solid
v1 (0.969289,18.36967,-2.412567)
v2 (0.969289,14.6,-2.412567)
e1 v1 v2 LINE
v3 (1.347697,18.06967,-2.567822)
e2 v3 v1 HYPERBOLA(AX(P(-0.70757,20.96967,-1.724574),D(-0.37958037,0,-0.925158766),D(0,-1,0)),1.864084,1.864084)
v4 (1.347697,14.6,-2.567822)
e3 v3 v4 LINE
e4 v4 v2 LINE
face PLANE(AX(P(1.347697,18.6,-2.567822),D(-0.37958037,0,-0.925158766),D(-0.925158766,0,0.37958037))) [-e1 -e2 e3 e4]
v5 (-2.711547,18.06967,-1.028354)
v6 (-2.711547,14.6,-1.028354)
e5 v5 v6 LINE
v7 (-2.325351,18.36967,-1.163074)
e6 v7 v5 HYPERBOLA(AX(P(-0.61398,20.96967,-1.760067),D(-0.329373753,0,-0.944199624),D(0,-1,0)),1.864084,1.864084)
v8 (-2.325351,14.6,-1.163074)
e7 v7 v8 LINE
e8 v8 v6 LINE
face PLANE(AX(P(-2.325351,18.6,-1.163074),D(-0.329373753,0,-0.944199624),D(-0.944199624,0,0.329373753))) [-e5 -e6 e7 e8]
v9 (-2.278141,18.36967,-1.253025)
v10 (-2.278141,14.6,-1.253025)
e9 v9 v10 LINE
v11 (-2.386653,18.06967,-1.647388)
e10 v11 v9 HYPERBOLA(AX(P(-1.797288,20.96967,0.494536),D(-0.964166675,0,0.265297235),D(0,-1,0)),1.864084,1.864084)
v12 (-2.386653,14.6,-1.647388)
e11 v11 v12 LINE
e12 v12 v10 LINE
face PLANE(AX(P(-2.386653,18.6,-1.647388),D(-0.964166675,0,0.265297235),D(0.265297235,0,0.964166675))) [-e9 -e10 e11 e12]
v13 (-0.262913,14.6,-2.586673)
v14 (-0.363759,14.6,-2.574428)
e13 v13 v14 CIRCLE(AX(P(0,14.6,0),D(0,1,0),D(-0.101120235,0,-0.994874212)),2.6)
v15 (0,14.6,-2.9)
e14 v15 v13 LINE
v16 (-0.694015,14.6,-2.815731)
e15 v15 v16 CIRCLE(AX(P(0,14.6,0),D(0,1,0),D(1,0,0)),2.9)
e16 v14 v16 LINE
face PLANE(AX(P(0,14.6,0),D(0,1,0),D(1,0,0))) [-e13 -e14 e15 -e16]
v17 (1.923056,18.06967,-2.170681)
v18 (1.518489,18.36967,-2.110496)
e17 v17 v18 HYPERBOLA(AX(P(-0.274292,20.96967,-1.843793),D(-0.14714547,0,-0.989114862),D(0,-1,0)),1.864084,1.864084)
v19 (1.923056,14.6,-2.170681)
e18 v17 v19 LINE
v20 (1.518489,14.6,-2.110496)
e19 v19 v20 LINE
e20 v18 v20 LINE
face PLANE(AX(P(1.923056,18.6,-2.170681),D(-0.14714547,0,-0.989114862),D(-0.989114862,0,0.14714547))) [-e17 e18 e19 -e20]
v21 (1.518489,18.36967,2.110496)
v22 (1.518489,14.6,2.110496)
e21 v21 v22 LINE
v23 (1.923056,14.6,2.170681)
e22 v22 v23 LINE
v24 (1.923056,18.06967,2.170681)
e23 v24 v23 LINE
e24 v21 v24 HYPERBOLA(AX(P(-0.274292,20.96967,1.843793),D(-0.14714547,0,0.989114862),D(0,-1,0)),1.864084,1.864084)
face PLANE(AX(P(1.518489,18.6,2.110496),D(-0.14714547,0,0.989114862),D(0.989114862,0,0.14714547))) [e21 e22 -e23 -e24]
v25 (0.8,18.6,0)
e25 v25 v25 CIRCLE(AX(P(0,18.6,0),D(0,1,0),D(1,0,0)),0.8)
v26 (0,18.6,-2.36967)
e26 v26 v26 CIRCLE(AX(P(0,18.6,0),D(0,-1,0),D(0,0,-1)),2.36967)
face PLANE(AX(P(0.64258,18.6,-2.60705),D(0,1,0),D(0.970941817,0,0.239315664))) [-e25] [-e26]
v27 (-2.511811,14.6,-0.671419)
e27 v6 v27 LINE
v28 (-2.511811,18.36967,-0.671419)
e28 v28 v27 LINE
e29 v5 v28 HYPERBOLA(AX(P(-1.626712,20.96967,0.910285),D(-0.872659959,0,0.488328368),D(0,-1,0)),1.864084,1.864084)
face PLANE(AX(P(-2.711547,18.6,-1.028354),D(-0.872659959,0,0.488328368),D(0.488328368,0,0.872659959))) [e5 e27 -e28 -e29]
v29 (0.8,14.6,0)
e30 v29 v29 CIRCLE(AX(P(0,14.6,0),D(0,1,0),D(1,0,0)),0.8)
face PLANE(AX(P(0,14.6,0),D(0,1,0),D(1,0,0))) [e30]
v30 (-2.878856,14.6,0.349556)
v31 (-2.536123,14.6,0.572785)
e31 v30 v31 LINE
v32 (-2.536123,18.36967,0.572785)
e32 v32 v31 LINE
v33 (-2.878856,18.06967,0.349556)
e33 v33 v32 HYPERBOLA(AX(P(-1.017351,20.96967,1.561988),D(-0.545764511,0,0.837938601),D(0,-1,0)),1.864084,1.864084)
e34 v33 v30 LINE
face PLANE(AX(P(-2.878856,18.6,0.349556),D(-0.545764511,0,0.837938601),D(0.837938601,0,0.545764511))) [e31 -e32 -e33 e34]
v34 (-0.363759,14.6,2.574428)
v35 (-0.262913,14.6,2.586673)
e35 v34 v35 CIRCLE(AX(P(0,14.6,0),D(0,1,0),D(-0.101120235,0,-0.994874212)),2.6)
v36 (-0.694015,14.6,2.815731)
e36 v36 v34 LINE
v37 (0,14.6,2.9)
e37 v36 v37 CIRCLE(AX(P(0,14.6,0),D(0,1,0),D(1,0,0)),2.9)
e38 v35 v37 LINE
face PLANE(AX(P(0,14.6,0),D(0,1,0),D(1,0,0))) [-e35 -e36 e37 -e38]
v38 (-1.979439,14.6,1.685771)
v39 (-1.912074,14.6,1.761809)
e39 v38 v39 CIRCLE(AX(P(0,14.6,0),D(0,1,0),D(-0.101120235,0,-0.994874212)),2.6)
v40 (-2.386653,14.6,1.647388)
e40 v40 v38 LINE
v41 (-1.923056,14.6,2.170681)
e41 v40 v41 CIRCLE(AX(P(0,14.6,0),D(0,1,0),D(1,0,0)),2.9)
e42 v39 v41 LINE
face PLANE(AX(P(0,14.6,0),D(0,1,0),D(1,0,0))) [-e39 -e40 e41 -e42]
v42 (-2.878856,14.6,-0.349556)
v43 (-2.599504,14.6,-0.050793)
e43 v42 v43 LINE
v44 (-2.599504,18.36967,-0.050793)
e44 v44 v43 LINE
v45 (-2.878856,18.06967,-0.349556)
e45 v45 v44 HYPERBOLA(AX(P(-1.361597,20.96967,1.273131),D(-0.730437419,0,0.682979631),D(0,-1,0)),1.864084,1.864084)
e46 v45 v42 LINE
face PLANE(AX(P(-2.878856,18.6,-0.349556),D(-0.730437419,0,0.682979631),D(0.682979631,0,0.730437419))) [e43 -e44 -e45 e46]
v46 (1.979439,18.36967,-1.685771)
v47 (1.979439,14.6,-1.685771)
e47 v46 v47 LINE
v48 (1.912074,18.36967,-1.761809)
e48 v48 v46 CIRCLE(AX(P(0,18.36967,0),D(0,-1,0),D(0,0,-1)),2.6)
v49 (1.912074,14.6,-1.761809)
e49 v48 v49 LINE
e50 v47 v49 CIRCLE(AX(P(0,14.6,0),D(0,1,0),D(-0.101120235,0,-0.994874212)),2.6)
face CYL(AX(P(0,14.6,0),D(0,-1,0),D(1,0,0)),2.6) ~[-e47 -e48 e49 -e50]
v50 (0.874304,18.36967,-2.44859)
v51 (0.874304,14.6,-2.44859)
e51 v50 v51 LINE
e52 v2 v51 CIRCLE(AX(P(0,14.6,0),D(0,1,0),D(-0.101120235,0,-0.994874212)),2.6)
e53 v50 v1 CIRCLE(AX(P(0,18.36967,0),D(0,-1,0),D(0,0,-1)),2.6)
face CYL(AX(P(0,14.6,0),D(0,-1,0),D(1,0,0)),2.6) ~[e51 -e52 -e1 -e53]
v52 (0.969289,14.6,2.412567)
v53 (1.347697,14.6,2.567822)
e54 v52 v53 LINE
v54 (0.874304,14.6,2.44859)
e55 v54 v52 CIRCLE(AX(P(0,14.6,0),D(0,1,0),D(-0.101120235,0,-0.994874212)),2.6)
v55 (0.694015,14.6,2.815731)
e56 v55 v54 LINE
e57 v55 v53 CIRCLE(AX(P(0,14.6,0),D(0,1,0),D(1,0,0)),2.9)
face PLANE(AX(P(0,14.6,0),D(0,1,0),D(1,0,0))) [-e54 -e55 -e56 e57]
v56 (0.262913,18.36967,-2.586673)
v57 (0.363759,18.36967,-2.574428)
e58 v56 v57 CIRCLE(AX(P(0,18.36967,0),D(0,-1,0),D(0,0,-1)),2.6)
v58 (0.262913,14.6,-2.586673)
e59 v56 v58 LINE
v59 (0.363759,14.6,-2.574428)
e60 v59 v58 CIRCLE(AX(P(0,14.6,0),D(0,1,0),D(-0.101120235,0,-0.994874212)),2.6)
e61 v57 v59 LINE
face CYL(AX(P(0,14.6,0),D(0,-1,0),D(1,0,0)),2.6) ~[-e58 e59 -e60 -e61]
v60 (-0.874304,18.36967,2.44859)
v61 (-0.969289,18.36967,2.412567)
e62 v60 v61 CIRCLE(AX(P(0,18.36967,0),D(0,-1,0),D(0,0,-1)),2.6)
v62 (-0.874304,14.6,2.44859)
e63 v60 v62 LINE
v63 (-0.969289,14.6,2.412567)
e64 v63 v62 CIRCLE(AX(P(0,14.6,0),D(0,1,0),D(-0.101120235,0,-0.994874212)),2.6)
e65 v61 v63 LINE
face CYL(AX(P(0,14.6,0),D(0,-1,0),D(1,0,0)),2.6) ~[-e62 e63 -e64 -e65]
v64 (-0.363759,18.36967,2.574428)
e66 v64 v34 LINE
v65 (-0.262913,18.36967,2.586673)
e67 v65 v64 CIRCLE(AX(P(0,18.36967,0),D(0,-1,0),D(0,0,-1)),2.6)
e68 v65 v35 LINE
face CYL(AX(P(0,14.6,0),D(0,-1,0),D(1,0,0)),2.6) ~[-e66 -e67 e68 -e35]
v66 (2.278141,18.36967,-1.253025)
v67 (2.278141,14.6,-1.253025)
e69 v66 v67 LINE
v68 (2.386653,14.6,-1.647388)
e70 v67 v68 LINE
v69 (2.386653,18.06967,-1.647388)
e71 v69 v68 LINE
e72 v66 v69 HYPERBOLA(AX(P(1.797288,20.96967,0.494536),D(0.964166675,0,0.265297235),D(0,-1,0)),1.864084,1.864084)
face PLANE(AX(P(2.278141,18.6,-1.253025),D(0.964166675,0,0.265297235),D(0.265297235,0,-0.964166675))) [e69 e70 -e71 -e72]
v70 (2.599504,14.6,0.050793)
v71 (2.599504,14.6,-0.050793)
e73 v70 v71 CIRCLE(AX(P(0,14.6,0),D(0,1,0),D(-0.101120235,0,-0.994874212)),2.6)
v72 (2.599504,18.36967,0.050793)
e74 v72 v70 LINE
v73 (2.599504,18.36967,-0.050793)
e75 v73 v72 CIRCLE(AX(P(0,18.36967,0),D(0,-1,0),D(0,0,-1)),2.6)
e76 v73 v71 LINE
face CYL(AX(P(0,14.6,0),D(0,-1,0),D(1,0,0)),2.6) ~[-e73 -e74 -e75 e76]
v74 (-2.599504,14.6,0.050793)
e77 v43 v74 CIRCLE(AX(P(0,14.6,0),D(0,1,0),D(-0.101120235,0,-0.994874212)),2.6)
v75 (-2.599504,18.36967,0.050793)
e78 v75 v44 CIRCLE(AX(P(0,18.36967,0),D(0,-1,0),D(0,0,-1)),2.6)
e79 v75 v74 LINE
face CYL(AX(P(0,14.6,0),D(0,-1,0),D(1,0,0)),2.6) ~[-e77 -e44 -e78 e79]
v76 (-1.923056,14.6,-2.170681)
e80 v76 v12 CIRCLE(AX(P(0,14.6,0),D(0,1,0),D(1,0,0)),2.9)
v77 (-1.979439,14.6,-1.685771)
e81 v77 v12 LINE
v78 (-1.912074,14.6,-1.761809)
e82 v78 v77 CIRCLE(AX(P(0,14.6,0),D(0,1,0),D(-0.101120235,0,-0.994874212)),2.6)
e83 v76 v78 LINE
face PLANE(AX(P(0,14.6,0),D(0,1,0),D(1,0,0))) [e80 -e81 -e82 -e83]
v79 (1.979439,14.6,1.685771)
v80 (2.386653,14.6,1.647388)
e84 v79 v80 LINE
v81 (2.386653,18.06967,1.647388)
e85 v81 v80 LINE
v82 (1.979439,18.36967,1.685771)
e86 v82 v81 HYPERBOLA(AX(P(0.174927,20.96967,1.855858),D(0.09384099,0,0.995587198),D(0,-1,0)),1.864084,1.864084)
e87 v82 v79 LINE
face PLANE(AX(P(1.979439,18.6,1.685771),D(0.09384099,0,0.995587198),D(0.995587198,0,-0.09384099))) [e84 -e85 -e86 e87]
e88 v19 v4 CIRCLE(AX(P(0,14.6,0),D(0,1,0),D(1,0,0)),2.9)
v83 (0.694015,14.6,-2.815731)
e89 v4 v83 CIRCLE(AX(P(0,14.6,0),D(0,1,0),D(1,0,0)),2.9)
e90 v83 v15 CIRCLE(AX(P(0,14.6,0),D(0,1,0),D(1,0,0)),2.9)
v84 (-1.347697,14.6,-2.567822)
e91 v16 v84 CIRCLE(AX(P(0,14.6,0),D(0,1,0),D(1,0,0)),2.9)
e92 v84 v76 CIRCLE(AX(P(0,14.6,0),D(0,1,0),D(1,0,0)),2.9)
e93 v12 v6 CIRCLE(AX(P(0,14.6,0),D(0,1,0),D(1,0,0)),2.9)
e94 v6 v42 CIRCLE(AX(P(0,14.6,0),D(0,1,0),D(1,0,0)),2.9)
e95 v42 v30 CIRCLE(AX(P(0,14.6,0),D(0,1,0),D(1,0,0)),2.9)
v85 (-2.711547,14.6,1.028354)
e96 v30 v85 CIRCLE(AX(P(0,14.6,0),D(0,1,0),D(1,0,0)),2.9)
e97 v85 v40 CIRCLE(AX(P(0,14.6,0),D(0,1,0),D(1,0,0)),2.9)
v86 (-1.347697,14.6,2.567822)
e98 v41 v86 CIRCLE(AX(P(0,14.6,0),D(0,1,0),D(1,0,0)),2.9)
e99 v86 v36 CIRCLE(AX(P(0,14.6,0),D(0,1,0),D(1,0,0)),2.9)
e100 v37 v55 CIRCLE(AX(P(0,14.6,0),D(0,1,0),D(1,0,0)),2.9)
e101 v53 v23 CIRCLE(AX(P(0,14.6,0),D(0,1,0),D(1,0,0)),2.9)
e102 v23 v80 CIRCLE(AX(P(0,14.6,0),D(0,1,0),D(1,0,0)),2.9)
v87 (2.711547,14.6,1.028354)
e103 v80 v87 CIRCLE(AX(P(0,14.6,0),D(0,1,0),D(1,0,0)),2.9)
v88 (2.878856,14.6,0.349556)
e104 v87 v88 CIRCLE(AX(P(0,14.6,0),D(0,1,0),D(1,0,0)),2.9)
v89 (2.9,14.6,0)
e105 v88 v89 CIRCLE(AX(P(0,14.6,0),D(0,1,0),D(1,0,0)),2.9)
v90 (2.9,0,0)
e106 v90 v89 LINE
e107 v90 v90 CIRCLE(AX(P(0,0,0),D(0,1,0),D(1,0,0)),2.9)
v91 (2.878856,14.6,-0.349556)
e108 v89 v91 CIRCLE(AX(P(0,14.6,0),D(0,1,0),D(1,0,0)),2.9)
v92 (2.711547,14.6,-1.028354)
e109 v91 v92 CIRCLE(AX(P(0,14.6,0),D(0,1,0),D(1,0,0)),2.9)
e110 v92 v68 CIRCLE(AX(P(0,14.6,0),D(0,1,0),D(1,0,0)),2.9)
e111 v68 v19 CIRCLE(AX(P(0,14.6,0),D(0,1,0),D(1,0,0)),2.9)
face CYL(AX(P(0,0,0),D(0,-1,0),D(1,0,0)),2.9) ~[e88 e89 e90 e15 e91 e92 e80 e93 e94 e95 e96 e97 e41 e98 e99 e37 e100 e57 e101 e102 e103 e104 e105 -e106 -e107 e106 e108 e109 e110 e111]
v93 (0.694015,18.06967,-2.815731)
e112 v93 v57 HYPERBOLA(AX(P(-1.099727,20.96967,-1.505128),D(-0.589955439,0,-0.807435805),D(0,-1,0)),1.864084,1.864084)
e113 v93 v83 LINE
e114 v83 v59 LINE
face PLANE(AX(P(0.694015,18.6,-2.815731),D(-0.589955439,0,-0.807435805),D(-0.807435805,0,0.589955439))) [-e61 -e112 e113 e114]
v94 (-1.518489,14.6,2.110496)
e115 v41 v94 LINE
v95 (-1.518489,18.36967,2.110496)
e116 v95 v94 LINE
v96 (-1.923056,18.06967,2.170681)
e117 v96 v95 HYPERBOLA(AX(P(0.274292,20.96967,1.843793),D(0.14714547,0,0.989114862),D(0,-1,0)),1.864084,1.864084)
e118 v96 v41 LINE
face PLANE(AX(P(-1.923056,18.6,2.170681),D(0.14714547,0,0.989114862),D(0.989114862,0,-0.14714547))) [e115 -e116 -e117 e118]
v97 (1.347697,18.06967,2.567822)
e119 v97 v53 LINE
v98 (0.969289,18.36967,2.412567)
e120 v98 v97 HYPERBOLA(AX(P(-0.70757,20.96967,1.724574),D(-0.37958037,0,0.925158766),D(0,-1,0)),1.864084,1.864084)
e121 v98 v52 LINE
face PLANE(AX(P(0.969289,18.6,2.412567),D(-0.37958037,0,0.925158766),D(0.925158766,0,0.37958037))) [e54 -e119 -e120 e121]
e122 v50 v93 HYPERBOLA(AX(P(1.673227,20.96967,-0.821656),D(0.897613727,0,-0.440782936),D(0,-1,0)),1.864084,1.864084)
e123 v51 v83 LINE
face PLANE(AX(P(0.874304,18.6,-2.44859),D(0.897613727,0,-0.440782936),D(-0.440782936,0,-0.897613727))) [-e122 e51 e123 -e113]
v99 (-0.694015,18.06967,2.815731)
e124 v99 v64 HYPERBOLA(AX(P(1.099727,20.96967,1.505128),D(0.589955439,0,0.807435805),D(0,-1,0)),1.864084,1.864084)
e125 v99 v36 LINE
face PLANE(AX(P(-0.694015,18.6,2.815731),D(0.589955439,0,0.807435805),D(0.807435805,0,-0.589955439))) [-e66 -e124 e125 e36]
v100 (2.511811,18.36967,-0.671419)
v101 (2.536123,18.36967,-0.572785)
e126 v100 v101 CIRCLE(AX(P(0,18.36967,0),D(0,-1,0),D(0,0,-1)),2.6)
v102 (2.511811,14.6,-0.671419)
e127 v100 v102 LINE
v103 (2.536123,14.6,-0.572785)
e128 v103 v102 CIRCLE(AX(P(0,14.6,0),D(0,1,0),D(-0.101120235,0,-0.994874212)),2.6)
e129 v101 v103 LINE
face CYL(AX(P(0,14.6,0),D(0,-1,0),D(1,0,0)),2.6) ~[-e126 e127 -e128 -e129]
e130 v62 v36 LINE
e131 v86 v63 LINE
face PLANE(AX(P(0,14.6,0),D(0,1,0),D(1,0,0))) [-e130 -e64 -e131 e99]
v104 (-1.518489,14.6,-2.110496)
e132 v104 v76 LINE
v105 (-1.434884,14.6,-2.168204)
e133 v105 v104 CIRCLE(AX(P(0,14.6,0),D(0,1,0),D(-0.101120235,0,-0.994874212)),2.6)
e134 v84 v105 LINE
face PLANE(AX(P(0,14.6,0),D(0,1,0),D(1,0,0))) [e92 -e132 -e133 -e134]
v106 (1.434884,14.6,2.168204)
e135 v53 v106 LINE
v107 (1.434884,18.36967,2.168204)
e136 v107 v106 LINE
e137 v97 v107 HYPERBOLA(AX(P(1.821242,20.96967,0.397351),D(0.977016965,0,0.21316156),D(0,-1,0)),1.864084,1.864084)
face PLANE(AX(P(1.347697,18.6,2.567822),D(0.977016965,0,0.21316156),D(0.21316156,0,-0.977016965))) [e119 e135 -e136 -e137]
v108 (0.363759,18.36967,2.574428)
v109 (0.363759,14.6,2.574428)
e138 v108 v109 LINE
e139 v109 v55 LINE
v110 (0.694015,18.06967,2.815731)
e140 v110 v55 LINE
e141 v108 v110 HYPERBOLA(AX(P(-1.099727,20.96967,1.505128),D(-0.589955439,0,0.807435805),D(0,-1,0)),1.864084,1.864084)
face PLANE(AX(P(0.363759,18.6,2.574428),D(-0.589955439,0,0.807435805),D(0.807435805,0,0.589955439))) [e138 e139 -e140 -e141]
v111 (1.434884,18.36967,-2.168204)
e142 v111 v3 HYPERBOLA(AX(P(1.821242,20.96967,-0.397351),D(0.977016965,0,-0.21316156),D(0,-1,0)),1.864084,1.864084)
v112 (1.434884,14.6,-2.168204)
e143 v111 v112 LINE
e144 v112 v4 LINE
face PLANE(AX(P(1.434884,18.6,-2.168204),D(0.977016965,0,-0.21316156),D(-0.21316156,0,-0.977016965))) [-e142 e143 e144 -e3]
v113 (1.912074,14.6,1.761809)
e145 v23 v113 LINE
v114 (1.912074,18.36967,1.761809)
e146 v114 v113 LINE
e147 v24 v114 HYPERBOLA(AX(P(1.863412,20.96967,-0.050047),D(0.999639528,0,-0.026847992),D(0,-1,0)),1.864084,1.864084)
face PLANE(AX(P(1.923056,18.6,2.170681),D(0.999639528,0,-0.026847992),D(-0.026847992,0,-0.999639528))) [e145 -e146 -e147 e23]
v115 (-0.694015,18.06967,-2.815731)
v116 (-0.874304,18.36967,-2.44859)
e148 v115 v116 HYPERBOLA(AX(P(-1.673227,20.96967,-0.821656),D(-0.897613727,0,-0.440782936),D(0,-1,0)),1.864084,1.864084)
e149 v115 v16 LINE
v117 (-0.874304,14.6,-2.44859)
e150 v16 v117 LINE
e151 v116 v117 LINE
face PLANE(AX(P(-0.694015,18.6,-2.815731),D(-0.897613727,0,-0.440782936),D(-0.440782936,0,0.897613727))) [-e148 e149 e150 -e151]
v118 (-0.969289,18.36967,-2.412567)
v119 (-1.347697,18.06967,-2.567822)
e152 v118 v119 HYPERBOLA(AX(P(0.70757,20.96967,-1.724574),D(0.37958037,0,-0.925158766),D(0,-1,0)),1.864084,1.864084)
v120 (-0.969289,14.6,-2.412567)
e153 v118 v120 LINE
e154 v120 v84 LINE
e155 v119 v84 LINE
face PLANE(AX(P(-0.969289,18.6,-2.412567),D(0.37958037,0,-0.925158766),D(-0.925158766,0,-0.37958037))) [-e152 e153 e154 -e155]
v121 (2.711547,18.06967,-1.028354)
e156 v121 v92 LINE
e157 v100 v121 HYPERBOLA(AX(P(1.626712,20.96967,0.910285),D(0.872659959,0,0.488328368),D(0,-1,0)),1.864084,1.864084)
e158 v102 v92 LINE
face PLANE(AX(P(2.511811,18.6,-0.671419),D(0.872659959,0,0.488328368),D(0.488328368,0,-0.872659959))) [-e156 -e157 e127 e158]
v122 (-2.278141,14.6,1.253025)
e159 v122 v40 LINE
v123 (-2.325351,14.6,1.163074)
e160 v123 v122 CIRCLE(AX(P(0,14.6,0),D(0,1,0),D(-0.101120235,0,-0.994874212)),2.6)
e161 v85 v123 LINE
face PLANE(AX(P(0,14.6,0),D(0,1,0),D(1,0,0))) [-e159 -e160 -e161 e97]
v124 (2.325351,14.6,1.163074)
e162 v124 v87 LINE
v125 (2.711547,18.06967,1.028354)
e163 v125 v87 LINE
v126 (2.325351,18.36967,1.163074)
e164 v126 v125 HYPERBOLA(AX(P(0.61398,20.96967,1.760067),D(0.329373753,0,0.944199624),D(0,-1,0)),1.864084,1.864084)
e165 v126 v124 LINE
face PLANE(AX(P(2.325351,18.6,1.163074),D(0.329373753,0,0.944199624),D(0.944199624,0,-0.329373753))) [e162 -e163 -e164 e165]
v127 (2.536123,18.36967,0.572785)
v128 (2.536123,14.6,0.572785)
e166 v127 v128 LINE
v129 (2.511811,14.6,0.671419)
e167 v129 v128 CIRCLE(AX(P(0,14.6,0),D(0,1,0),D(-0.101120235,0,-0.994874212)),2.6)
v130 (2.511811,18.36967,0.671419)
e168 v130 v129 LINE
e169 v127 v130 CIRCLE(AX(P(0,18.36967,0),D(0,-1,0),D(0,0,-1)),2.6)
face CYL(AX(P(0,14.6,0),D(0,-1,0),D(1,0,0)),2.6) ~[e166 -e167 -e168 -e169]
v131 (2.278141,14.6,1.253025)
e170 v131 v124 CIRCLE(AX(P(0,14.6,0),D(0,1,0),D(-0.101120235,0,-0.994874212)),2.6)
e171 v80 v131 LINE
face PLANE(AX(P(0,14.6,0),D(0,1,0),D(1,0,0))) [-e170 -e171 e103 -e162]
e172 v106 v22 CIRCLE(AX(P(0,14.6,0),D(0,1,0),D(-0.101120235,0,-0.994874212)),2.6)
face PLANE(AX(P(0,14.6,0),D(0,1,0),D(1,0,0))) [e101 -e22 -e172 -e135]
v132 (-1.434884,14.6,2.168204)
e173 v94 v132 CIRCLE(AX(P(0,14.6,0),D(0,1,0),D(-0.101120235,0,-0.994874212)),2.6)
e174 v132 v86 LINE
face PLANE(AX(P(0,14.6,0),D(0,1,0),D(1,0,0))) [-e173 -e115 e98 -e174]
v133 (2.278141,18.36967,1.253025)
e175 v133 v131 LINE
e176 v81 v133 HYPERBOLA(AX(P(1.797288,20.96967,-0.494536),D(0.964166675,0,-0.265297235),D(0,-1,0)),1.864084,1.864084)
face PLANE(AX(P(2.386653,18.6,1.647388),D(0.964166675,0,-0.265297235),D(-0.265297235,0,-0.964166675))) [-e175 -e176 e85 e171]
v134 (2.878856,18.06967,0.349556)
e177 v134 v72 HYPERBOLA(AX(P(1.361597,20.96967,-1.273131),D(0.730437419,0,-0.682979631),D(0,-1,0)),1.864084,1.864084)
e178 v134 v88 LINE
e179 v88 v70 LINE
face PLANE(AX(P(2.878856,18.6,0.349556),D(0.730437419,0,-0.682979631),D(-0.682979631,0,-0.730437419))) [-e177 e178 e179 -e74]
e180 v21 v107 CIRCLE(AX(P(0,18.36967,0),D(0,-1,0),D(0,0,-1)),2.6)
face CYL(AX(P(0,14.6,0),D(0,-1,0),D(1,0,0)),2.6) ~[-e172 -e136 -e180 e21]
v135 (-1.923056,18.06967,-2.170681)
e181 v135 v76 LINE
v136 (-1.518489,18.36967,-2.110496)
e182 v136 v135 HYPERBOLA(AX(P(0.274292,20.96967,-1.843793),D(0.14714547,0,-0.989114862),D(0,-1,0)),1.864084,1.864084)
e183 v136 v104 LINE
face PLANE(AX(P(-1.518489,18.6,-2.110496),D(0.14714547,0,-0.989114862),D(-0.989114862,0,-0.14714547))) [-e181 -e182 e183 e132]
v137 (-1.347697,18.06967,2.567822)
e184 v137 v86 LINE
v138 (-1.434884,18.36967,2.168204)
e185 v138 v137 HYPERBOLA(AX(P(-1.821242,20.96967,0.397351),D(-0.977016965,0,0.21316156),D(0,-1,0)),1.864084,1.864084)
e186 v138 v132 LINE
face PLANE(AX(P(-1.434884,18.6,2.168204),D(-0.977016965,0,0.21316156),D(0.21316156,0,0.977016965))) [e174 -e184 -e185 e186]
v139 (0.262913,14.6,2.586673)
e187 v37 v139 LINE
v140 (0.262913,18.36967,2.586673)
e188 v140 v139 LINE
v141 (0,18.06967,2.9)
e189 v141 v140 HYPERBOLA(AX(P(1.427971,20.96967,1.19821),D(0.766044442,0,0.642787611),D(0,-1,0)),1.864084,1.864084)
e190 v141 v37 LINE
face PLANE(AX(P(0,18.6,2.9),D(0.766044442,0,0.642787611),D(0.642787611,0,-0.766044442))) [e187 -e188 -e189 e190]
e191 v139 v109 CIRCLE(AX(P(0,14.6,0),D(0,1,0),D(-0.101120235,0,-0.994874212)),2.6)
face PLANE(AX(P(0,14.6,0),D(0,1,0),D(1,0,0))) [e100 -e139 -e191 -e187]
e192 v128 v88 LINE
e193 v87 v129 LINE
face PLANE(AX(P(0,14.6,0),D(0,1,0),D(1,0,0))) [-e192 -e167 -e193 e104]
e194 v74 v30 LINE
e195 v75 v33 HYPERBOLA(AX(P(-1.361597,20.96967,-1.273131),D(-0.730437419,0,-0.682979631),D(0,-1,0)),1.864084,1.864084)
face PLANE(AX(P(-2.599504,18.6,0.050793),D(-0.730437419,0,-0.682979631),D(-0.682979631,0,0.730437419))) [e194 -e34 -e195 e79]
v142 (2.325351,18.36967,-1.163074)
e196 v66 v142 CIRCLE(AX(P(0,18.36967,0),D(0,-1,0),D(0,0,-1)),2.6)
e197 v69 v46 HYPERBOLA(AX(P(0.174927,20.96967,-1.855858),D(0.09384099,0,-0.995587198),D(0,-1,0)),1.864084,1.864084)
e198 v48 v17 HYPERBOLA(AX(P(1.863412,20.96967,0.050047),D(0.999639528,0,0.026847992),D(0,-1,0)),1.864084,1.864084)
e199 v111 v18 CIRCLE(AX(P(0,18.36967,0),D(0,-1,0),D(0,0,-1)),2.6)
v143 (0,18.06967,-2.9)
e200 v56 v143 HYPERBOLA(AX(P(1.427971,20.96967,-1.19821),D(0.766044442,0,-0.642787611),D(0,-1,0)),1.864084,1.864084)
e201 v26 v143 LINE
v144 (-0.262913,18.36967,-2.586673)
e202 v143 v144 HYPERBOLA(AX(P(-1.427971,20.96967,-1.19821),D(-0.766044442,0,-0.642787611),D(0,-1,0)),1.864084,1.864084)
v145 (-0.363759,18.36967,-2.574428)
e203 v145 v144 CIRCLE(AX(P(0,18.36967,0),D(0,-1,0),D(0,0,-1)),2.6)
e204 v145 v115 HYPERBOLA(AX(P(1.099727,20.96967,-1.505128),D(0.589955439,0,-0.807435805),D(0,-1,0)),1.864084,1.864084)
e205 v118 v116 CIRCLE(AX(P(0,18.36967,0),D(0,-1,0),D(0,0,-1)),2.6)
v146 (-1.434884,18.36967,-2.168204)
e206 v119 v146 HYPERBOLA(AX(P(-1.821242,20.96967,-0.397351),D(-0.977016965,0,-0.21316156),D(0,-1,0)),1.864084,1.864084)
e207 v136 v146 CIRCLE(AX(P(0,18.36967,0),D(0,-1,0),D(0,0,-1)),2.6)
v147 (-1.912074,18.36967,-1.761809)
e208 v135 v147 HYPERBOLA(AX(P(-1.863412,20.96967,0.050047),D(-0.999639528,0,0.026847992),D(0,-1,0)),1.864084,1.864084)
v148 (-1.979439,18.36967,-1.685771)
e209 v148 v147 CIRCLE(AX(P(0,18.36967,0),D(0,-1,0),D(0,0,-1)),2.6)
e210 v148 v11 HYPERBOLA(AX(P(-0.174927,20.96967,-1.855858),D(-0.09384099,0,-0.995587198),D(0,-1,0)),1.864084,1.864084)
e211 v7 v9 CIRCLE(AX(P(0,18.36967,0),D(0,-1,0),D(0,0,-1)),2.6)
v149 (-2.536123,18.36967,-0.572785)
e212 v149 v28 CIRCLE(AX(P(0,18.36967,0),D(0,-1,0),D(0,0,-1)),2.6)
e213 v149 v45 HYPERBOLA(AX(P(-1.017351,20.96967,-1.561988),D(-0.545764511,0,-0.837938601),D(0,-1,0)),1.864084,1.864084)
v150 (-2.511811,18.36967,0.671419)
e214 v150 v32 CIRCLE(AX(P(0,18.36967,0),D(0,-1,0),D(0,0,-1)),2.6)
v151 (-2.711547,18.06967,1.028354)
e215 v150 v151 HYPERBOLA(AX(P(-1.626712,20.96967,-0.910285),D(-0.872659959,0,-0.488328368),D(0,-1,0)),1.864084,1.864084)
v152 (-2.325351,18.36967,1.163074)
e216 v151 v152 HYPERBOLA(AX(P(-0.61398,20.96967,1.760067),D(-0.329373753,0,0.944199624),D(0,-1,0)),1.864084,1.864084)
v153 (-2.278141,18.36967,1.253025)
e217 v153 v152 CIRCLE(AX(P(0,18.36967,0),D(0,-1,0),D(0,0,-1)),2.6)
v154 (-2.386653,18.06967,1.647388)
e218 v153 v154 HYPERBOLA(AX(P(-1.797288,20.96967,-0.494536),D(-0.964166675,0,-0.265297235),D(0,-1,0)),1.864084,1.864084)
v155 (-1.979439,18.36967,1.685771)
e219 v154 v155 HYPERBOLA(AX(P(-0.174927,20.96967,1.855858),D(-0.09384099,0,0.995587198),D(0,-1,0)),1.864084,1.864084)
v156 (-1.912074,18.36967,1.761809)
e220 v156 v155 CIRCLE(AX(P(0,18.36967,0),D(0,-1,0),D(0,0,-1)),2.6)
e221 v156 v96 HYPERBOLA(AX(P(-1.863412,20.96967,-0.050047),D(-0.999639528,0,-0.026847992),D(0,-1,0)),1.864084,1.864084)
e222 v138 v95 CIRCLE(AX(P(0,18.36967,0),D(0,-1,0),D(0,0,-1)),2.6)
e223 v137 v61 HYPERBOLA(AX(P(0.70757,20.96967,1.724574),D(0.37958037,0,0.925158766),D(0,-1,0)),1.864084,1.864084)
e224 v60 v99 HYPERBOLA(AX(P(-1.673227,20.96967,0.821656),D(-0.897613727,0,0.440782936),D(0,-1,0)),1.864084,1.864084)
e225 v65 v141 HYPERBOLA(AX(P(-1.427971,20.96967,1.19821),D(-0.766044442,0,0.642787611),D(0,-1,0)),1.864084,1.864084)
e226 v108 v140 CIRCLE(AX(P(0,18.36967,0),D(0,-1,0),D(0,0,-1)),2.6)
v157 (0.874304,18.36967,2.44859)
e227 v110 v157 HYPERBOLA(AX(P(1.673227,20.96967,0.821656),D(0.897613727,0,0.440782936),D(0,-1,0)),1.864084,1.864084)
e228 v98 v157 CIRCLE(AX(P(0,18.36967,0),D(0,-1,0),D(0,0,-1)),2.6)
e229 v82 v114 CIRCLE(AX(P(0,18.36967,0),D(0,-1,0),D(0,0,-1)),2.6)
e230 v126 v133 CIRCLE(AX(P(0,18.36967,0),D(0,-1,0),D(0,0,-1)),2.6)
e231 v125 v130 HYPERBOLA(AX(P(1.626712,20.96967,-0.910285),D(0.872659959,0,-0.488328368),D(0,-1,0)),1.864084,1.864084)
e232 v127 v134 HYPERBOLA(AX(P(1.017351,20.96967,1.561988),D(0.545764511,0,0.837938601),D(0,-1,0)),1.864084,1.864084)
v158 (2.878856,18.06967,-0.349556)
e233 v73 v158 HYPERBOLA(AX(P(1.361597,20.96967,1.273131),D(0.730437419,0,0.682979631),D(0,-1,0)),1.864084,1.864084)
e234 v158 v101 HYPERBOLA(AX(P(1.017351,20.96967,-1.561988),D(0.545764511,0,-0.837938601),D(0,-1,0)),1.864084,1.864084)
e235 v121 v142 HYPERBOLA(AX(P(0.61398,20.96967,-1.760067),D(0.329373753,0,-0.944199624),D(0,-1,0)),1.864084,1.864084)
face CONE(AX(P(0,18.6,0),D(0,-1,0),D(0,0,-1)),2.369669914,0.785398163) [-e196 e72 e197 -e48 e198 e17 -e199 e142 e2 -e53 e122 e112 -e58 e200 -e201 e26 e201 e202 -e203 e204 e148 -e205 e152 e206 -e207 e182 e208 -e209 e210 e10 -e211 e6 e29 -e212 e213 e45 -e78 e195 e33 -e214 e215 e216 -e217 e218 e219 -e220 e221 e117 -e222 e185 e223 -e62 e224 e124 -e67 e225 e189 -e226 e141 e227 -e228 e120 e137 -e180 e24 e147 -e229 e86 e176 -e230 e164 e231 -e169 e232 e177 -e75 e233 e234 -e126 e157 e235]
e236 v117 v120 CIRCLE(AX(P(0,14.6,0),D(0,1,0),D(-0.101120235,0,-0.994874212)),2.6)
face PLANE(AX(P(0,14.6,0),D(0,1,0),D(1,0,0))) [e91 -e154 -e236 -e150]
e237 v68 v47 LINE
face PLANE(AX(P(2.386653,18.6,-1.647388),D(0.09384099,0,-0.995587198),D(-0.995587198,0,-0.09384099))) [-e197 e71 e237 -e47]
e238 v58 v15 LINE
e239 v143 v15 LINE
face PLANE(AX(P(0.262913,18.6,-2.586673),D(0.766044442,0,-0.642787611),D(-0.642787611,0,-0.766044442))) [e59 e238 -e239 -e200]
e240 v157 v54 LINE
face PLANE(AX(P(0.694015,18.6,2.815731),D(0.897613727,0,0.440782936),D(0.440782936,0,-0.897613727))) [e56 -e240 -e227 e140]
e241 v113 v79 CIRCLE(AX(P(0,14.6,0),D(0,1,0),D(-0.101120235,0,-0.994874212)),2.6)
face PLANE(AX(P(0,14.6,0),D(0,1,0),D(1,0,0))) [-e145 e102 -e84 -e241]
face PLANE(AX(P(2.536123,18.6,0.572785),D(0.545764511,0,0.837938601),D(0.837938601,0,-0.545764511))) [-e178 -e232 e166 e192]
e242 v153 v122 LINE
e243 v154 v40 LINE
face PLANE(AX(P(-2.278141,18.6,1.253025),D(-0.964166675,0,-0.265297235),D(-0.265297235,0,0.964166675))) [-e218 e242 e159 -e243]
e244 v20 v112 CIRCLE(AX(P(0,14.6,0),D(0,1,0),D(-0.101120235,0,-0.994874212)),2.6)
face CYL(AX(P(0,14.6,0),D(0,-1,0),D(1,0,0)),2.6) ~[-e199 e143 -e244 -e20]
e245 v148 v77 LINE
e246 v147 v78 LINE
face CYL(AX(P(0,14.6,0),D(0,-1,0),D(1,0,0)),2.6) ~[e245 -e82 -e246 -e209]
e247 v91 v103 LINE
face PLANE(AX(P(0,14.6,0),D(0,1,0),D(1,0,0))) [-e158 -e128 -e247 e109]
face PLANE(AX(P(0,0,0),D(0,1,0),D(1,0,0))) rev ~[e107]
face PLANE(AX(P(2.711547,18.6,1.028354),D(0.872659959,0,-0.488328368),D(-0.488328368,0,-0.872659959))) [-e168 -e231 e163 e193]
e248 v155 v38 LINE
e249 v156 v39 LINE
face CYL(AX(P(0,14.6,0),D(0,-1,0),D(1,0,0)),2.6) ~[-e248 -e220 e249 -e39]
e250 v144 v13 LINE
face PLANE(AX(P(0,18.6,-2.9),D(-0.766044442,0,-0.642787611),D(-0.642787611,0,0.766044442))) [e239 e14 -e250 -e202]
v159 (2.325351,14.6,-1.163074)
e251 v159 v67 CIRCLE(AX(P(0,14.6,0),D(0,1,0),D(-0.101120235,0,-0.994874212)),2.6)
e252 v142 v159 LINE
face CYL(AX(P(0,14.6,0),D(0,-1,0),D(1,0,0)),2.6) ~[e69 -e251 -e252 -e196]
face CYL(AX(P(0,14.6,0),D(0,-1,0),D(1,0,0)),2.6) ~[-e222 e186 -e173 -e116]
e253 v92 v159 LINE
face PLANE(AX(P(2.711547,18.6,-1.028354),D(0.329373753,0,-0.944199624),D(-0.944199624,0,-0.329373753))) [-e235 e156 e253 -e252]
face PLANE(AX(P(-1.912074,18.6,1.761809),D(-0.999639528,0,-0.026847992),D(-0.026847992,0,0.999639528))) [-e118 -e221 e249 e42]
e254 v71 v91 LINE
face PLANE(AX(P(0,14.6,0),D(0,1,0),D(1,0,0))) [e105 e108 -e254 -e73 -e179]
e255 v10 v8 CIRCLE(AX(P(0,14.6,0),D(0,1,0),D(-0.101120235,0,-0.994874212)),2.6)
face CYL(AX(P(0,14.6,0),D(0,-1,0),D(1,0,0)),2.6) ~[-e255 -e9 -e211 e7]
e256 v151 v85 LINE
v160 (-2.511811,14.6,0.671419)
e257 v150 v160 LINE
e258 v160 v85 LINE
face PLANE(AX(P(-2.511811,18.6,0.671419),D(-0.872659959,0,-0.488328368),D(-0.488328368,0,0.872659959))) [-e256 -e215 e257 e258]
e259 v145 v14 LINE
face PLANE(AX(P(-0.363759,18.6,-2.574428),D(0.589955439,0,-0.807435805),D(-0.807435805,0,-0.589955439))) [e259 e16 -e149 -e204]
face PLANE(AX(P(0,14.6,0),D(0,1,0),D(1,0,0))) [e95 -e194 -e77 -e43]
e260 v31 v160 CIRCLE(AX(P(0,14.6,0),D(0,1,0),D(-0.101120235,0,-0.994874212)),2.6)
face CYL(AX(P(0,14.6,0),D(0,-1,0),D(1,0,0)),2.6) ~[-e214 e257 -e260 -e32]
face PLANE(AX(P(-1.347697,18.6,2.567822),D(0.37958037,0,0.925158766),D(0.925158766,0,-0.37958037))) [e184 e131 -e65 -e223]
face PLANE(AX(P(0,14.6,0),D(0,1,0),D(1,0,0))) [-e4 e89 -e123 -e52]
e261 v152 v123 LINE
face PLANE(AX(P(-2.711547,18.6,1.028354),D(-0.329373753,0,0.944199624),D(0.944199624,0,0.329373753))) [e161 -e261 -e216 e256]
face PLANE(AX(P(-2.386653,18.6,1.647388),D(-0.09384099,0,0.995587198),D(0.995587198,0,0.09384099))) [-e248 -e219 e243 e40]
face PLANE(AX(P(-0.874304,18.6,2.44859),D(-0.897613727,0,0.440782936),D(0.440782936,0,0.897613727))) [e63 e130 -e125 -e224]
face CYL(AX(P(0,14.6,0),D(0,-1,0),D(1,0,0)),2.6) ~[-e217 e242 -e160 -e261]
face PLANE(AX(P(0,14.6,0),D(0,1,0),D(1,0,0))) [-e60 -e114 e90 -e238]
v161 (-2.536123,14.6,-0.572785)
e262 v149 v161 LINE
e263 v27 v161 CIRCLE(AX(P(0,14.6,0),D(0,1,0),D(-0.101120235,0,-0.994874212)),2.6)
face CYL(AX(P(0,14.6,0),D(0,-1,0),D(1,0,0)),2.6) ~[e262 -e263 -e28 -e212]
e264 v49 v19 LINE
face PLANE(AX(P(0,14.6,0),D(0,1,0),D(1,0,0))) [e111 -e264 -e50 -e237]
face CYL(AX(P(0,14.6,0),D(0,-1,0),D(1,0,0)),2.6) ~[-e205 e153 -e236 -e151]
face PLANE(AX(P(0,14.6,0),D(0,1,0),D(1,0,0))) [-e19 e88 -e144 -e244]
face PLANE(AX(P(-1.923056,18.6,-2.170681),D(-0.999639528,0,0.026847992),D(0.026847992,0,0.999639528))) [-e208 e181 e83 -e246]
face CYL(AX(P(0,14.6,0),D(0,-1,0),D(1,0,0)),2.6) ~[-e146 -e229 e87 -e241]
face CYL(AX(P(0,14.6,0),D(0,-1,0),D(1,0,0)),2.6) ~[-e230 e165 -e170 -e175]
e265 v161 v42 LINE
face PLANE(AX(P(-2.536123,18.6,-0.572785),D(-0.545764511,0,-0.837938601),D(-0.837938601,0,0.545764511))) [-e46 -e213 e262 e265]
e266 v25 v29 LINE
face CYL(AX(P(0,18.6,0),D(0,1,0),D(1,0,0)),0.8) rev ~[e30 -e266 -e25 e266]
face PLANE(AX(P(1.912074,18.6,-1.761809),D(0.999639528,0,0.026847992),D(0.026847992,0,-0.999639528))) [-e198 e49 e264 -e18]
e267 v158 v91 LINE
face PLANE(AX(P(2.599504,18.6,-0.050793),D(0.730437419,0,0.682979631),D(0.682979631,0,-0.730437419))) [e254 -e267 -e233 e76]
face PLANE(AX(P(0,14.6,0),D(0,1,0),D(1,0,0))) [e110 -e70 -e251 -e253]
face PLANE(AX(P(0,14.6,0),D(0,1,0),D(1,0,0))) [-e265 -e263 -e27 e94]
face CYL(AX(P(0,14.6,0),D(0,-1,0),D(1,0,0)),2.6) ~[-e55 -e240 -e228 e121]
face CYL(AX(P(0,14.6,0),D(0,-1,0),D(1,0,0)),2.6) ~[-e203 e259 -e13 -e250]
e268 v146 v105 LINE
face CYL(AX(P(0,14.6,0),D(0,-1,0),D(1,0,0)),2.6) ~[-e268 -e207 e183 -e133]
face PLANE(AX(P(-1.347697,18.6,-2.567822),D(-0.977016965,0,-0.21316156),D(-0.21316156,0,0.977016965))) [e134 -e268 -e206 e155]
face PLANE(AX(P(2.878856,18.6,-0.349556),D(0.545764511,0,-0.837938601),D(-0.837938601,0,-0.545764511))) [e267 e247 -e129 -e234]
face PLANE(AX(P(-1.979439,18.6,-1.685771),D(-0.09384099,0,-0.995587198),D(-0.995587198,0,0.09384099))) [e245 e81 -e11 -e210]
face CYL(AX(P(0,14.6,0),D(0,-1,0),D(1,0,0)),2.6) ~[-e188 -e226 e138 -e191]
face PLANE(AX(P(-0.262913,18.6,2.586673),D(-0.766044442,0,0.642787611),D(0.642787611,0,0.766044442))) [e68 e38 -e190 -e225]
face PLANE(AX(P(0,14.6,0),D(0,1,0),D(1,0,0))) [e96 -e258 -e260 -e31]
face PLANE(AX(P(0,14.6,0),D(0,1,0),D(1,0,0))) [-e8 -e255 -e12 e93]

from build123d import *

# Parameters (mm, degrees)
SKETCH12_R          = 2.9
BOSS_EXTRUDE4_DEPTH = 14.6
SKETCH13_R          = 2.6
BOSS_EXTRUDE5_DEPTH = 4
BOSS_EXTRUDE6_DEPTH = 18.6
CIRPATTERN1_COUNT   = 26
SKETCH16_R          = 0.8
CUT_EXTRUDE1_DEPTH  = 4


with BuildPart() as part:
    # Sketch12 → Boss-Extrude4 (new body)
    with BuildSketch(Plane(origin=(0, 0, 0), x_dir=(1, 0, 0), z_dir=(0, 1, 0))):
        Circle(SKETCH12_R)
    extrude(amount=BOSS_EXTRUDE4_DEPTH)

    # Sketch13 → Boss-Extrude5 (add)
    with BuildSketch(Plane(origin=(0, 14.6, 0), x_dir=(1, 0, 0), z_dir=(0, 1, 0))):
        Circle(SKETCH13_R)
    extrude(amount=BOSS_EXTRUDE5_DEPTH)

    # Sketch14 → Boss-Extrude6 (add)
    with BuildSketch(Plane(origin=(0, 18.6, 0), x_dir=(1, 0, 0), z_dir=(0, 1, 0))):
        with BuildLine():
            Line((0, 2.9), (-0.262912611, 2.586672952))
            ThreePointArc((-0.262912611, 2.586672952), (0, 2.6), (0.262912611, 2.586672952))
            Line((0.262912611, 2.586672952), (0, 2.9))
        make_face()
    boss_extrude6 = extrude(amount=-BOSS_EXTRUDE6_DEPTH)

    # CirPattern1: Boss-Extrude6 ×26 about axis
    cirpattern1_axis = Axis((0, 0, 0), (0, 1, 0))
    for i in range(1, CIRPATTERN1_COUNT):
        add(boss_extrude6.rotate(cirpattern1_axis, i * 360 / CIRPATTERN1_COUNT))

    # Sketch15 → Cut-Revolve1 (revolve, cut)
    with BuildSketch(Plane(origin=(0, 0, 0), x_dir=(0, 0, -1), z_dir=(1, 0, 0))):
        Polygon((2.9, 18.069669914), (2.9, 18.6), (2.369669914, 18.6), align=None)
    revolve(axis=Axis((0, 18.6, 0), (0, -1, 0)), mode=Mode.SUBTRACT)

    # Sketch16 → Cut-Extrude1 (cut)
    with BuildSketch(Plane(origin=(0, 18.6, 0), x_dir=(1, 0, 0), z_dir=(0, 1, 0))):
        Circle(SKETCH16_R)
    extrude(amount=-CUT_EXTRUDE1_DEPTH, mode=Mode.SUBTRACT)


solid = part.part
